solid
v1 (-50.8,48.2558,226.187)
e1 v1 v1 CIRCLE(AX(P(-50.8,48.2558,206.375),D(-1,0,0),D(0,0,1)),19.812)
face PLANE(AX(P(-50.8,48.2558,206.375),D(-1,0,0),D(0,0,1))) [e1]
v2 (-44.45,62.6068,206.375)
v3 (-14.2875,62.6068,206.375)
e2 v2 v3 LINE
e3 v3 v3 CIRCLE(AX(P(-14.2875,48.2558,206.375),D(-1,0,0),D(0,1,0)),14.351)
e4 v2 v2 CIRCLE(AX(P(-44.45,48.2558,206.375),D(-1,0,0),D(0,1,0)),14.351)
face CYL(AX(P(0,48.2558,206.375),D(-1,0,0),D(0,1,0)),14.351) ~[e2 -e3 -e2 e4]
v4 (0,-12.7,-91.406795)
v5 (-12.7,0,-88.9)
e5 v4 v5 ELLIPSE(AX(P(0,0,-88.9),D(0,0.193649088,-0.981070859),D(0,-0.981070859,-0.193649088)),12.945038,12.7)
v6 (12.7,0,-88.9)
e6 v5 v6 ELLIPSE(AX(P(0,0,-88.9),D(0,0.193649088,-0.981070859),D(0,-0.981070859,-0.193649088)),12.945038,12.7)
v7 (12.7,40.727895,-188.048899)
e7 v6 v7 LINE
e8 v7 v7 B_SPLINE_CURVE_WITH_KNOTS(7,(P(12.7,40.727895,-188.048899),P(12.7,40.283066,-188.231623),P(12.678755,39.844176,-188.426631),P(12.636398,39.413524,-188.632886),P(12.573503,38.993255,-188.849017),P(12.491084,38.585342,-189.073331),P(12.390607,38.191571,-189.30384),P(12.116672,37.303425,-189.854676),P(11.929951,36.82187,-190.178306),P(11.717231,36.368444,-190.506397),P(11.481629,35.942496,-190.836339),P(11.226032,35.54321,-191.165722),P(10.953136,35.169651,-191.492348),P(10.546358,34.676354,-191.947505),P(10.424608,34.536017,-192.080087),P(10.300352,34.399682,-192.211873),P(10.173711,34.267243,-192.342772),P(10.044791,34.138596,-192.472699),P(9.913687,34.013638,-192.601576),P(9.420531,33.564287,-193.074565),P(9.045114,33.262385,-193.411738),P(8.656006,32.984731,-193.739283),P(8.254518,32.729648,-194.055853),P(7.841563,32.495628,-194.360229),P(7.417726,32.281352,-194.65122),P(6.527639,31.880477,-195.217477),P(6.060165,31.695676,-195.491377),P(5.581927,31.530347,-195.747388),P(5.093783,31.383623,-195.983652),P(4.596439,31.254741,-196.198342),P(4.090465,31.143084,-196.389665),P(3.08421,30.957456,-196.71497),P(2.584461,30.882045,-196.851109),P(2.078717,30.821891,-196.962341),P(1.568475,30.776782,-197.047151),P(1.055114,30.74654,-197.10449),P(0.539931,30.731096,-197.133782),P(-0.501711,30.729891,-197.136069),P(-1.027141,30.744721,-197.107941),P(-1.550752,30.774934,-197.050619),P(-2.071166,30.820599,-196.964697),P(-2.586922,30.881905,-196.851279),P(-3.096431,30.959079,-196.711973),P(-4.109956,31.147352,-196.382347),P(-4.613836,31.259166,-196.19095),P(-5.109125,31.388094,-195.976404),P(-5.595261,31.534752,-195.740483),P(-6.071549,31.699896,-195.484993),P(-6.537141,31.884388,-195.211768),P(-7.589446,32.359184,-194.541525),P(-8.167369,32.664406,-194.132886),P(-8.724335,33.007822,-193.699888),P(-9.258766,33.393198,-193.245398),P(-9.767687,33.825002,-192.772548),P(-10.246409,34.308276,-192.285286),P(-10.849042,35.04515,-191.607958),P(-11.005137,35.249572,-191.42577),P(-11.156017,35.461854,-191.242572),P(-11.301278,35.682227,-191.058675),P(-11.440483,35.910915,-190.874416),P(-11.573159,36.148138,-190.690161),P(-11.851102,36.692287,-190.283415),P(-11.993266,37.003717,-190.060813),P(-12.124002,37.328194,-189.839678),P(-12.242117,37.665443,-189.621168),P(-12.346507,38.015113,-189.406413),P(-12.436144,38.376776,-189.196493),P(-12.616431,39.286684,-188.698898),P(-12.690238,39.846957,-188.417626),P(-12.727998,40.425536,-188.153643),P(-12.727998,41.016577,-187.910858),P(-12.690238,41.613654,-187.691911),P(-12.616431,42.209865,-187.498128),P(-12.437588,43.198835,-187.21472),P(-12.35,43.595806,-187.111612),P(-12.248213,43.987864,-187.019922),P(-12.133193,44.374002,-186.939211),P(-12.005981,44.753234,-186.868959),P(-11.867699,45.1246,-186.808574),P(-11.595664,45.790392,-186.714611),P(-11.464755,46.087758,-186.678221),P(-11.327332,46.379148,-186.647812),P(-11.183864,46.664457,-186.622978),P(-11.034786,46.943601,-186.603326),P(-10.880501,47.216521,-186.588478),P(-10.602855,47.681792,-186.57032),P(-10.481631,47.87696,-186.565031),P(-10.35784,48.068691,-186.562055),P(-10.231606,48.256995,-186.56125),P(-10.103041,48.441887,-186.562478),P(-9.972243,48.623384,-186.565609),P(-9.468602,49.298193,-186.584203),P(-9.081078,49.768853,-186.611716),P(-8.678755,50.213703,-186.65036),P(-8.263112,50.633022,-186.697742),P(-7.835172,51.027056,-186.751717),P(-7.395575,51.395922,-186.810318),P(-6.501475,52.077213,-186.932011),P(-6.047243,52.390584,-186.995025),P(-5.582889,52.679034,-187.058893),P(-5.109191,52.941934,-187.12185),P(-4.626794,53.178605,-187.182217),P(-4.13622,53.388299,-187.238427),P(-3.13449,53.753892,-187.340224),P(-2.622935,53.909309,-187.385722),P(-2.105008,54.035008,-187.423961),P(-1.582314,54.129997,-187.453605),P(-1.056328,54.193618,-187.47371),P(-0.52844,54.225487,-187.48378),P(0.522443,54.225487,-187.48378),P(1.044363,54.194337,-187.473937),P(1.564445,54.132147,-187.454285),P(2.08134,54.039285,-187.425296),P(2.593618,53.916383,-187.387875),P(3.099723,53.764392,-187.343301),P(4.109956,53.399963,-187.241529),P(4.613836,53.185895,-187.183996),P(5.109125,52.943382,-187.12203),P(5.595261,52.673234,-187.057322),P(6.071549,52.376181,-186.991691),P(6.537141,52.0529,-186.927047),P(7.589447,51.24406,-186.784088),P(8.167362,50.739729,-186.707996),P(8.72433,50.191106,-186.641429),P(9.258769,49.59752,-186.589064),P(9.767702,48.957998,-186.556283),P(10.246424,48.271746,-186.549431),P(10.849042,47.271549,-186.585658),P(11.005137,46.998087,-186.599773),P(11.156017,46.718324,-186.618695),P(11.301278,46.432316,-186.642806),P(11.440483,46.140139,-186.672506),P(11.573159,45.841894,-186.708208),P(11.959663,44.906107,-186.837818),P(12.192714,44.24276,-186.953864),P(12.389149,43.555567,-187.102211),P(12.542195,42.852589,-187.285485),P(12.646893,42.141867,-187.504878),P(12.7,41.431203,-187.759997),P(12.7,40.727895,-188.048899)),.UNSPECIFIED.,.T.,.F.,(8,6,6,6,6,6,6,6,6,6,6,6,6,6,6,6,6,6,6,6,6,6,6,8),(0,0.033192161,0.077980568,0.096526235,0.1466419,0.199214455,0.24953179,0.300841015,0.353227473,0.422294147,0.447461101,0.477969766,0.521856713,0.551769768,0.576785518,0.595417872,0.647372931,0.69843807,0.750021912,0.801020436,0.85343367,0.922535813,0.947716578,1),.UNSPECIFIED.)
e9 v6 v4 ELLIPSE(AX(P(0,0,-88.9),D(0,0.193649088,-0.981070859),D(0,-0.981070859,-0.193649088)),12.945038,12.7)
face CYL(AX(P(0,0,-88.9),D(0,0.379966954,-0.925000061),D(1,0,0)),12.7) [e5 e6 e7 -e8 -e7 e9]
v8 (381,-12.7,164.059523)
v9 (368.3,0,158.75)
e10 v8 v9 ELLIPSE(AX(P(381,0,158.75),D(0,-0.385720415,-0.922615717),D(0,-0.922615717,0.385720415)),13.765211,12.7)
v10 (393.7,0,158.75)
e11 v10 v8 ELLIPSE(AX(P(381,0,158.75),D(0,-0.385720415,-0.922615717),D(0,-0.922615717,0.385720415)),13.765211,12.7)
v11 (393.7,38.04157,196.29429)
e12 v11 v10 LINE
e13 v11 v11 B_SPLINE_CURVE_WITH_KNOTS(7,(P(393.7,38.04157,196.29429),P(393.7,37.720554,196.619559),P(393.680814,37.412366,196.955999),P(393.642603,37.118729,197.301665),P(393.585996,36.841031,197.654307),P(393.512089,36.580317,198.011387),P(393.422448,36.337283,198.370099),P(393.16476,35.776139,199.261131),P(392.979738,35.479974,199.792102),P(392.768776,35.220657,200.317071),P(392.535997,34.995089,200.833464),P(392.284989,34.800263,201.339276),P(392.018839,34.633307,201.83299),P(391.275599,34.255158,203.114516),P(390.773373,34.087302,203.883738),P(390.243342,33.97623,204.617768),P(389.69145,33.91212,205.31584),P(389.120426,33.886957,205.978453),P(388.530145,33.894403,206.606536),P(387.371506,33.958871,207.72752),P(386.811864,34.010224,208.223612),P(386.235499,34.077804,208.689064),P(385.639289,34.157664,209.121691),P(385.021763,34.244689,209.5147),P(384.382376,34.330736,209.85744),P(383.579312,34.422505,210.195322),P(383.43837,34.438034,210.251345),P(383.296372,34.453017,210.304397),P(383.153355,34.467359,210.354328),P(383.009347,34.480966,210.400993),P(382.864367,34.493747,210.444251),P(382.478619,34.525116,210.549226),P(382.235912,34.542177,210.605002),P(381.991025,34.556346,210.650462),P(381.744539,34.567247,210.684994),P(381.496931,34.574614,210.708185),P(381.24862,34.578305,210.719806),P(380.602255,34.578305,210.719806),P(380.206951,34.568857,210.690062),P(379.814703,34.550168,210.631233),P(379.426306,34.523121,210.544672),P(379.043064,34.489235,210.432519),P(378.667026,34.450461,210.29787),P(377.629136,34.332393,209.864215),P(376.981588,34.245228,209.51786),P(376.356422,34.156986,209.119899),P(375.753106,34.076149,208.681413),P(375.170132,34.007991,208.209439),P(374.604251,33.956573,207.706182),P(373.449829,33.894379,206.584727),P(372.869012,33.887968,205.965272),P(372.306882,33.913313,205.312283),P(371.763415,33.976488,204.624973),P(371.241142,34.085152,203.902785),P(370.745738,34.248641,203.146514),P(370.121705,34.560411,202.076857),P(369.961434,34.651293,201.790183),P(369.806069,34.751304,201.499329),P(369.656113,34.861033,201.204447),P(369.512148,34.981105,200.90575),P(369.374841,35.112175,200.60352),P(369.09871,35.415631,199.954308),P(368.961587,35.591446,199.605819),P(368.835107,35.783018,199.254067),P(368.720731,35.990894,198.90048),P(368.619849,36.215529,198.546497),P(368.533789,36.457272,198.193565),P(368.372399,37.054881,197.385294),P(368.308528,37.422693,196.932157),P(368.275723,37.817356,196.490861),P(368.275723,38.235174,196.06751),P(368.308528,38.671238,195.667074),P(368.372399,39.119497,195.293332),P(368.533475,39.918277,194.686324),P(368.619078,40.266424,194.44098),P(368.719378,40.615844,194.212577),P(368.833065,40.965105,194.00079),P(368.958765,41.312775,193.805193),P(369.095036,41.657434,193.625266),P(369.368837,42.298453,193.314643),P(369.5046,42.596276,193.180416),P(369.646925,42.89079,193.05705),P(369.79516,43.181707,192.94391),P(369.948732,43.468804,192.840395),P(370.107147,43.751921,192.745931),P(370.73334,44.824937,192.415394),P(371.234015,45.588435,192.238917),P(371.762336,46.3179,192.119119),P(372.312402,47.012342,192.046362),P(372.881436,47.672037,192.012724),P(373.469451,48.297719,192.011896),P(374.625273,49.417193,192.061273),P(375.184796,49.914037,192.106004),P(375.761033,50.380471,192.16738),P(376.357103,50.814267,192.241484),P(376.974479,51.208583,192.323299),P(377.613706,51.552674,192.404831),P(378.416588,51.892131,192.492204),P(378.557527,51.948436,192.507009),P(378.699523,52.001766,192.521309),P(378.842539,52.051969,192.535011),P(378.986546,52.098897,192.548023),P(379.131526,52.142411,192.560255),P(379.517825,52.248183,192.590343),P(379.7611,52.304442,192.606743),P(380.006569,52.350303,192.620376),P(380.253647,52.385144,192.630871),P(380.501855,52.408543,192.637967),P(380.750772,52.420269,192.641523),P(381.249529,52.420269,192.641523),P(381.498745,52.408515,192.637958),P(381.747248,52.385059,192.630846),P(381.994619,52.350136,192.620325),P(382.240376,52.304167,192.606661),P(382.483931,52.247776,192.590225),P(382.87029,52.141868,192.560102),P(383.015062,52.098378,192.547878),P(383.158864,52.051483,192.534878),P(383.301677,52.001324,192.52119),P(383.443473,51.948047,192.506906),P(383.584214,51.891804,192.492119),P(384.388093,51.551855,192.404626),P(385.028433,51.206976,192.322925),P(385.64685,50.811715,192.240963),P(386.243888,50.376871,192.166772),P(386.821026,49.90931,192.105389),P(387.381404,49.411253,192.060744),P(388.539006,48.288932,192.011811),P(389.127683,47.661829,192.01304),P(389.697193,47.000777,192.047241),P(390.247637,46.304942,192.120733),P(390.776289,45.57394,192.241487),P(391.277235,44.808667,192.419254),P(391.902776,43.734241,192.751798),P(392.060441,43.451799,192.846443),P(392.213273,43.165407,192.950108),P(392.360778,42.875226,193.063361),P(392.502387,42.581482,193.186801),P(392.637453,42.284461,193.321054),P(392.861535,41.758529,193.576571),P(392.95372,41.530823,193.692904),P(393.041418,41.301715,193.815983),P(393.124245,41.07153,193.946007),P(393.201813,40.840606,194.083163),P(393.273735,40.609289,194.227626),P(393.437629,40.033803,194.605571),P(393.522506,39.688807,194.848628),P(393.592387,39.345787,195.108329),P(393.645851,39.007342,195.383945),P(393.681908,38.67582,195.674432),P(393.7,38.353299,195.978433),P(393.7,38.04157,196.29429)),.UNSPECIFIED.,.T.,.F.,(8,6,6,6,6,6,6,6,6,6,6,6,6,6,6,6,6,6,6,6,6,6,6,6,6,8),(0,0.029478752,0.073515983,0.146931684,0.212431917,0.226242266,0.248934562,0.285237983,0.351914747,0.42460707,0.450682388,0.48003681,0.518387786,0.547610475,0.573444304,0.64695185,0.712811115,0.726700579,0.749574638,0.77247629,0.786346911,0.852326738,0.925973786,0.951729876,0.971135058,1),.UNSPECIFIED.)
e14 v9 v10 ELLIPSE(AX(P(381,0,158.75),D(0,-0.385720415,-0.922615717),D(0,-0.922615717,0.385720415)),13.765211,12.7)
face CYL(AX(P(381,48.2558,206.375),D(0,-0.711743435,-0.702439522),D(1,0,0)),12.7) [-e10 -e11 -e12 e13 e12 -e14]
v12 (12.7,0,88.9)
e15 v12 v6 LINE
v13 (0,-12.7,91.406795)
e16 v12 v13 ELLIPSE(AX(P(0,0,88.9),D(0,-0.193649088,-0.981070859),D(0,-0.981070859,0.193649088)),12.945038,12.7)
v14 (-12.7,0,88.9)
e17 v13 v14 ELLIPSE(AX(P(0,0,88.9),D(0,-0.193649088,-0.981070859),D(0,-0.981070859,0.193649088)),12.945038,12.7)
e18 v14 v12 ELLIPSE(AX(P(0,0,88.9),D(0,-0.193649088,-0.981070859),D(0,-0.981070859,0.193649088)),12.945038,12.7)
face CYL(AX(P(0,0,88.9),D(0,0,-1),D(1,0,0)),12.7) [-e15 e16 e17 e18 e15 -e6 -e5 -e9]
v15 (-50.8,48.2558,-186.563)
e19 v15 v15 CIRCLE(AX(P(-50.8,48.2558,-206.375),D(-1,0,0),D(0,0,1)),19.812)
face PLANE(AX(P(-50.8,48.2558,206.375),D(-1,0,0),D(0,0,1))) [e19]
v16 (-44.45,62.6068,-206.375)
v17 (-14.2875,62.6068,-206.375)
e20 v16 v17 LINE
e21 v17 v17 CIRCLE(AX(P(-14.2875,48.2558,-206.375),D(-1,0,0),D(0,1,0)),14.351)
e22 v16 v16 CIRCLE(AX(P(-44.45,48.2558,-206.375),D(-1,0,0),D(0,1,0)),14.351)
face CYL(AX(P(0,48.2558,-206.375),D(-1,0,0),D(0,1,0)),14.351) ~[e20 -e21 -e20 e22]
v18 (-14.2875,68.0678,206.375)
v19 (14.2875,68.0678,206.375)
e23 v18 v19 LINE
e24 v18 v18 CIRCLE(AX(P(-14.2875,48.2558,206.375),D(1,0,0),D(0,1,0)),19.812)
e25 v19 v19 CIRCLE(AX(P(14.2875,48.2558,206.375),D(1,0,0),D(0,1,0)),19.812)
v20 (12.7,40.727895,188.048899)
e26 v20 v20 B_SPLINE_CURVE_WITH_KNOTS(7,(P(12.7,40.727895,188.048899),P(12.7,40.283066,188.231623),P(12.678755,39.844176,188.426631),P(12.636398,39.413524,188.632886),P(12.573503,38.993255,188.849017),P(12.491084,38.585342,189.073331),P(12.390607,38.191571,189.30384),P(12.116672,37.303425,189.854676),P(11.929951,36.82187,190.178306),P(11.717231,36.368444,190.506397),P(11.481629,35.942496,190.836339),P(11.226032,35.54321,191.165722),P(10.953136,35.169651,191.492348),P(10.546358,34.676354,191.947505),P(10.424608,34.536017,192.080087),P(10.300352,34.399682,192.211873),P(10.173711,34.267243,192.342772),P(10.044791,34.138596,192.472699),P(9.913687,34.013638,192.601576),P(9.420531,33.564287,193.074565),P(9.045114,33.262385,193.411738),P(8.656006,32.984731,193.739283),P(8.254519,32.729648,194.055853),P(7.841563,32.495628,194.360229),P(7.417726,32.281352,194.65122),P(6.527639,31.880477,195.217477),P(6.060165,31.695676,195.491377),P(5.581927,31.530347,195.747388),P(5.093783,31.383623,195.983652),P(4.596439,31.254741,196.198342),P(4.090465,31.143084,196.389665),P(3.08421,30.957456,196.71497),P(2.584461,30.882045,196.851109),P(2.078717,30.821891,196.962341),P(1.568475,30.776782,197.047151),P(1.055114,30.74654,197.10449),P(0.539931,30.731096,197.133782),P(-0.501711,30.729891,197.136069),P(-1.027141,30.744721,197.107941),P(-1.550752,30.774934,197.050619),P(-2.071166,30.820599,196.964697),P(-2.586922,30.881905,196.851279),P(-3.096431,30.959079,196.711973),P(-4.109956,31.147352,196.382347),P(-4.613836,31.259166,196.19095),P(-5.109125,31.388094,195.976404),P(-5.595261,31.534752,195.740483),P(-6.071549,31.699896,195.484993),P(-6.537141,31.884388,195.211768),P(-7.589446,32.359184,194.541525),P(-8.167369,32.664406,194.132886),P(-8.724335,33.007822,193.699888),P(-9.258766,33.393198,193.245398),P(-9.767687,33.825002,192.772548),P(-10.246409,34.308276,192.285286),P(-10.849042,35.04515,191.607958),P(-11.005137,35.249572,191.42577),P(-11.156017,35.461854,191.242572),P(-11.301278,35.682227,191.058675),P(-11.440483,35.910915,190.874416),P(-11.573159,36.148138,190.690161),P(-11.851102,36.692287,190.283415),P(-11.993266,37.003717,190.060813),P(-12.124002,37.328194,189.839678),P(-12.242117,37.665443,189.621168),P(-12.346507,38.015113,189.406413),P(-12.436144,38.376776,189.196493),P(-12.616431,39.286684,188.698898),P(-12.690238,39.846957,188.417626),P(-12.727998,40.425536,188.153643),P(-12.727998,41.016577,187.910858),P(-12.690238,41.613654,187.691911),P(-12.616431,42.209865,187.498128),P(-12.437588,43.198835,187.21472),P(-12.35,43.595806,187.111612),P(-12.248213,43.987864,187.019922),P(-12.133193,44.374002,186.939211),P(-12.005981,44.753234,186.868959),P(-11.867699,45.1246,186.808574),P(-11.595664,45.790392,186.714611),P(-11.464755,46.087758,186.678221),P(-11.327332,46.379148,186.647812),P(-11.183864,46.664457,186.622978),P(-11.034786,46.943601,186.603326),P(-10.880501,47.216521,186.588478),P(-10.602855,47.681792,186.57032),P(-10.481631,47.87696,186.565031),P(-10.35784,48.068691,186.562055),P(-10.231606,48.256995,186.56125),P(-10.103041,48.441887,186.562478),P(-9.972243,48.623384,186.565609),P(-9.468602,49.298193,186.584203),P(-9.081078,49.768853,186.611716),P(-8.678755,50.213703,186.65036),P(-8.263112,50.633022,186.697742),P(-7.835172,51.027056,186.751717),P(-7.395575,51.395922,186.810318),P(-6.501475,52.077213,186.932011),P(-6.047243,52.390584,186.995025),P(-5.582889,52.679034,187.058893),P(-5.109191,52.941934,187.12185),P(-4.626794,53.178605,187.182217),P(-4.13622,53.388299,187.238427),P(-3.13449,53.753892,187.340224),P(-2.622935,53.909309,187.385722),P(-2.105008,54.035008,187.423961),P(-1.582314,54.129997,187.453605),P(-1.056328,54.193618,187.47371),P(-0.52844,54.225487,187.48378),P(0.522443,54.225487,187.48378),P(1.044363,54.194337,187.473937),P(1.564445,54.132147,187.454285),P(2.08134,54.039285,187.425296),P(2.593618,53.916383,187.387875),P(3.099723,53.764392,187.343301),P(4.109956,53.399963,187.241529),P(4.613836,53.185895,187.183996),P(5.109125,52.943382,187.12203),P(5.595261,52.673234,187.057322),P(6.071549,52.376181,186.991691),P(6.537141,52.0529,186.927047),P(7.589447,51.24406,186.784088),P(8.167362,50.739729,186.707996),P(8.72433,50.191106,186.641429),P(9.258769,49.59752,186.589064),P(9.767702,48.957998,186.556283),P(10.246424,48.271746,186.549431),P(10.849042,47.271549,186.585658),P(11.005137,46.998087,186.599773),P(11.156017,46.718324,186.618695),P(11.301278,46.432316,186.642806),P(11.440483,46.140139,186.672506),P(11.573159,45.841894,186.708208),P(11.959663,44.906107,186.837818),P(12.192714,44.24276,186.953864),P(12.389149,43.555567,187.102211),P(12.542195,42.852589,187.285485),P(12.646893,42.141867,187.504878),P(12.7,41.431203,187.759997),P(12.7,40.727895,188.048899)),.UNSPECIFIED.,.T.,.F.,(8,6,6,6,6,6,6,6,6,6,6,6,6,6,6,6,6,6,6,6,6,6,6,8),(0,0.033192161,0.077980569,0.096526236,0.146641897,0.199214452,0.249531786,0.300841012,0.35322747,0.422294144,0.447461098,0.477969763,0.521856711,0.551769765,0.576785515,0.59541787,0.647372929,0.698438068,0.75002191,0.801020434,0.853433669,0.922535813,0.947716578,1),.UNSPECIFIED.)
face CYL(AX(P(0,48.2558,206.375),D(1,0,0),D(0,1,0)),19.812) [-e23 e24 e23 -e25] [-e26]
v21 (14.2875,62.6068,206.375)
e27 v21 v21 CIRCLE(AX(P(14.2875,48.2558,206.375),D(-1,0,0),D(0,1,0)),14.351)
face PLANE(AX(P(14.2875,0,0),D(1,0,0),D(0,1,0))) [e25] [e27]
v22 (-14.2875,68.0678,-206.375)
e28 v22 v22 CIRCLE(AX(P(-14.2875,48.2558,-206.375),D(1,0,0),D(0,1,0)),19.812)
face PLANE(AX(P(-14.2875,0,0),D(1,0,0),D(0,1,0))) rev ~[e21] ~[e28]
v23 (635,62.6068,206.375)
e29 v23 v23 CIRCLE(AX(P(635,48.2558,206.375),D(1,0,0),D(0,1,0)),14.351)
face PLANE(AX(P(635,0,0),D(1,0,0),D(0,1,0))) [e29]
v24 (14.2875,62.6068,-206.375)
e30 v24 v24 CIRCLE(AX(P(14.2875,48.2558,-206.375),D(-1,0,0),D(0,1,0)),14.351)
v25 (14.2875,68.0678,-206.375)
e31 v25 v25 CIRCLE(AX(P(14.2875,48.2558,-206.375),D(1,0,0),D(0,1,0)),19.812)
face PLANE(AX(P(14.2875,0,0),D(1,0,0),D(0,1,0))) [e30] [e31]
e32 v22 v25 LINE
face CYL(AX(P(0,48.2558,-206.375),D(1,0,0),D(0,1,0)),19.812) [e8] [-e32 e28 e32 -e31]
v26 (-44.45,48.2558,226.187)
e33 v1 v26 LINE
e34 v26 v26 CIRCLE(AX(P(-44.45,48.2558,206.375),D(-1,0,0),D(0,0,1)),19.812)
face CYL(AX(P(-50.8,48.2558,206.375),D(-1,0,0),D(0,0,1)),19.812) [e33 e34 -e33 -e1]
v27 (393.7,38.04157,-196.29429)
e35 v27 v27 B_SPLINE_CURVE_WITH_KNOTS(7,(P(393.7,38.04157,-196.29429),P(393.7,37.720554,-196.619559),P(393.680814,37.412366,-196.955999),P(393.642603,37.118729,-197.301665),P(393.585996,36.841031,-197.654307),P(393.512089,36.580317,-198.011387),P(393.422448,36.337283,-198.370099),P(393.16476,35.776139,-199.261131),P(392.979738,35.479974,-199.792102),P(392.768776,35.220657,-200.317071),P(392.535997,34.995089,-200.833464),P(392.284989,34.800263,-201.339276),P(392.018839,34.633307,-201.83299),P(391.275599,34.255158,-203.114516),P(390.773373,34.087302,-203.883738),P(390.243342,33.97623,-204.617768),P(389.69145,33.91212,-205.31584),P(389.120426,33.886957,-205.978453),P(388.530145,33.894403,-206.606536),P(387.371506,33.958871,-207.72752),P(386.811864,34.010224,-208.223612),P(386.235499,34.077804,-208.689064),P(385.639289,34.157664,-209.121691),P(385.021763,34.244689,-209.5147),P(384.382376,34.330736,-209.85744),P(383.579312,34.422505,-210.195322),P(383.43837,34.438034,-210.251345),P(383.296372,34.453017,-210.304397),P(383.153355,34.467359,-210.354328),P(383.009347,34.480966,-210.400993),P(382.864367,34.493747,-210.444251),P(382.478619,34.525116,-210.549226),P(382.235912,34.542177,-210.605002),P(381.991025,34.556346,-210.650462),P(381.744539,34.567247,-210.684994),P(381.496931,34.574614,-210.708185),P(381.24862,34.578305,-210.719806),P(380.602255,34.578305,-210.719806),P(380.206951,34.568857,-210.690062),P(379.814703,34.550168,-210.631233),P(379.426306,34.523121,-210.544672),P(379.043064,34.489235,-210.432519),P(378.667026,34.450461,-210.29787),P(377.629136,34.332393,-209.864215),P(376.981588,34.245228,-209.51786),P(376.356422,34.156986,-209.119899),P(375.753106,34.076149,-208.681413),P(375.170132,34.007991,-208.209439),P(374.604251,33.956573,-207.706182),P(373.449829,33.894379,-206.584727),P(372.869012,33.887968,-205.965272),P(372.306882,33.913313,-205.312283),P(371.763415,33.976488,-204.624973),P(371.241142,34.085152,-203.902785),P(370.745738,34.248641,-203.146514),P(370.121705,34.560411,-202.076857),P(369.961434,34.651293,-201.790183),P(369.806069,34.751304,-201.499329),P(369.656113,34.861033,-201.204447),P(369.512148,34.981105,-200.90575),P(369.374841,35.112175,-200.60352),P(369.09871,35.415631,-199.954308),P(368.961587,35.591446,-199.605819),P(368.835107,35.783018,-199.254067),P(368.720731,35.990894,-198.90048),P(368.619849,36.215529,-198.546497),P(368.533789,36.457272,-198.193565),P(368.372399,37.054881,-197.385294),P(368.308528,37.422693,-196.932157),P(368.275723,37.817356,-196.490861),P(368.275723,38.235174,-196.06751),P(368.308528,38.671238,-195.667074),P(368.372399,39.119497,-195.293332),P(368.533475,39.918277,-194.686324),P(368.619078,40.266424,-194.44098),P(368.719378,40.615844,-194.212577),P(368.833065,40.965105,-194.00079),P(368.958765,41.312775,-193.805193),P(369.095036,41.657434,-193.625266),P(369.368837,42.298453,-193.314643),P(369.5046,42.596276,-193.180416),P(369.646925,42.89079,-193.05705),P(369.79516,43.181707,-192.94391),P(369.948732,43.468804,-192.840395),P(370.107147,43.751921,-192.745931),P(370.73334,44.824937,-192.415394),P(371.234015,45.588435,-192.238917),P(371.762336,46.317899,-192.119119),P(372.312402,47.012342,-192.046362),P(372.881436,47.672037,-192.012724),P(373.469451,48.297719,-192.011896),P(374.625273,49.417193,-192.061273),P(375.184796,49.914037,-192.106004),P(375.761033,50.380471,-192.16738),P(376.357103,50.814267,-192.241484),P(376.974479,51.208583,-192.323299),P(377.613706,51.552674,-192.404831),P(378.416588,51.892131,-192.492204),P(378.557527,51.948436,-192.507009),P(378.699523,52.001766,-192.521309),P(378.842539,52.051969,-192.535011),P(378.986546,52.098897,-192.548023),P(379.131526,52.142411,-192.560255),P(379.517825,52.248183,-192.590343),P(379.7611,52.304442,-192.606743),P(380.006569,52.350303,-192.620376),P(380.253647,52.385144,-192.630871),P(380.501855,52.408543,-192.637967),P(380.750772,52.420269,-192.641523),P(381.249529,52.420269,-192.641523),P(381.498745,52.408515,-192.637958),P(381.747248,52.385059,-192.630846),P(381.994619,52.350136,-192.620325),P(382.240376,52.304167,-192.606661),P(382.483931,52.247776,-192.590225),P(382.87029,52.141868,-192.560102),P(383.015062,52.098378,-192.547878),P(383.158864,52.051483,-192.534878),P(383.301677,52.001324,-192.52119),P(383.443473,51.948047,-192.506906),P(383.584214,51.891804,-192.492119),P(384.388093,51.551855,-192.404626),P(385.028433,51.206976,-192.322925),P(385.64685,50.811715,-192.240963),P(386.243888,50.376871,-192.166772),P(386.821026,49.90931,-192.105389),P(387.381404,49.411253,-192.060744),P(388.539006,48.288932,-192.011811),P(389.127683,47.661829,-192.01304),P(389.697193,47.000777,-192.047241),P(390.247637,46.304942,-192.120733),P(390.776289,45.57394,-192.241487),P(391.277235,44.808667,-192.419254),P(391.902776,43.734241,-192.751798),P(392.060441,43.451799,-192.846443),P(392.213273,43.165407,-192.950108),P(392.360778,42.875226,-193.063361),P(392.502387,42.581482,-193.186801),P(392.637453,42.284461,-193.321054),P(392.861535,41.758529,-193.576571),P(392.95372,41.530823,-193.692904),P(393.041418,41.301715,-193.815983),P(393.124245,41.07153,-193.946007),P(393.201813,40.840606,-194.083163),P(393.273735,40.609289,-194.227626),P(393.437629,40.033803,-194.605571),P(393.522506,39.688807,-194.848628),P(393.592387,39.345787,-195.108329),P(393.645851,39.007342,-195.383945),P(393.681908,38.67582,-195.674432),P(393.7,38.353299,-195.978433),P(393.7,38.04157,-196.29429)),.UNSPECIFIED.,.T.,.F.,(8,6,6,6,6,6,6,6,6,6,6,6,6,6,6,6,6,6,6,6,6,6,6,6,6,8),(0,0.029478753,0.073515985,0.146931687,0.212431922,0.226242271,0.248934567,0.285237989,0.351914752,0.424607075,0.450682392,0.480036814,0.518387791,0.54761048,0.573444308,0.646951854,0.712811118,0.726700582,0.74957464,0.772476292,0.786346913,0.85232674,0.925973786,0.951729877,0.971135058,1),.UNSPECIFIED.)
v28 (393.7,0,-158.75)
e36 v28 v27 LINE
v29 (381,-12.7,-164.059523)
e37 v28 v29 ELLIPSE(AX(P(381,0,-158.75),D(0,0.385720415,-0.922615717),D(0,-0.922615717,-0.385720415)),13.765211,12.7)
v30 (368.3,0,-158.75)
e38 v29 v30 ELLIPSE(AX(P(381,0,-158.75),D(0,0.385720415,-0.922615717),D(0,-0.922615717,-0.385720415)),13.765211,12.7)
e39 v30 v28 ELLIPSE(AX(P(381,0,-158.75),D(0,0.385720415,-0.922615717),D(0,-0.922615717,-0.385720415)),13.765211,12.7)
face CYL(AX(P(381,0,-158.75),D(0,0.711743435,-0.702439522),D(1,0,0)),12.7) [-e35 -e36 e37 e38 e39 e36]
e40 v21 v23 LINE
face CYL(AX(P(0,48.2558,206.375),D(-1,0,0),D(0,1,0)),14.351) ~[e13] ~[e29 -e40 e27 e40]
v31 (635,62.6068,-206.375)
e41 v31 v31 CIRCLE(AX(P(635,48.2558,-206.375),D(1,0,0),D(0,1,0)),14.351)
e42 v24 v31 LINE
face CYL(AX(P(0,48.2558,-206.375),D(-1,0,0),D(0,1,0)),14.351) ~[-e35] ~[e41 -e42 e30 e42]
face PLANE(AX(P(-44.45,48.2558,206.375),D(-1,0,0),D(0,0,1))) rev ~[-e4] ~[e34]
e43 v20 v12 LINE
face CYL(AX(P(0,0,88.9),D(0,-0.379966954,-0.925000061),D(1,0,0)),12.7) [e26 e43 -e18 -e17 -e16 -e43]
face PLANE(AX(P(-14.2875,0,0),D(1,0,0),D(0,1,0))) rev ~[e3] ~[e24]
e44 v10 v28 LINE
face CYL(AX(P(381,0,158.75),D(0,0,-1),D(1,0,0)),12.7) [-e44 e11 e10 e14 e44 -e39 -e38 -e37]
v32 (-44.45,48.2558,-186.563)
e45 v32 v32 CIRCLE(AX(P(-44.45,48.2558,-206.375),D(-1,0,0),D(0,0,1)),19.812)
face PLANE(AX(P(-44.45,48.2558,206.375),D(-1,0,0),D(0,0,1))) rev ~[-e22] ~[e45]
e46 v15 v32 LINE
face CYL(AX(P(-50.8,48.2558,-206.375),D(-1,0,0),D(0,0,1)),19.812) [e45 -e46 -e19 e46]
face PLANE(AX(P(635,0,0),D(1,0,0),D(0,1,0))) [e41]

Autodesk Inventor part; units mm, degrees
ref_plane "XZ Plane" through (0, 0, 0) normal (0, 1, 0) x (-1, 0, 0)
ref_plane "XY Plane" through (0, 0, 0) normal (0, 0, 1) x (1, 0, 0)
sketch "Sketch1" plane through (0, 0, 0) normal (0, 0, 1) x (1, 0, 0)
  circle A0 centre (0, 0) radius 12.7
  dimension "d0" = 25.4
sketch "Sketch2" plane through (0, 0, 0) normal (1, 0, 0) x (0, 1, 0)
  line L0 (0, 88.9) -> (0, -88.9)
  line L1 (0, -88.9) -> (48.2558, -206.375)
  line L2 (0, 88.9) -> (48.2558, 206.375)
  line L3 (48.2558, -206.375) -> (232.1871, -206.375) construction
  point P0 (0, 0)
  dimension "d1" = 88.9
  dimension "d2" = 177.8
  dimension "d3" = 412.75
  dimension "d5" = 127
  dimension "d26" = 112.332
sweep "Sweep1" add profiles "Sketch1" path "Sketch2"
ref_plane "Work Plane1" through (381, 0, 0) normal (1, 0, 0) x (0, 1, 0)
sketch "Sketch3" plane through (0, 0, 0) normal (0, 0, 1) x (1, 0, 0)
  circle A0 centre (381, 0) radius 12.7
  point P0 (0, 0)
  dimension "d9" = 381
  dimension "d10" = 25.4
sketch "Sketch4" plane through (381, 0, 0) normal (1, 0, 0) x (0, 1, 0)
  line L0 (60.0033, 201.5494) -> (36.5083, 211.2006) projected
  line L1 (48.2558, 206.375) -> (0, 158.75)
  line L2 (0, 158.75) -> (0, -158.75)
  line L3 (0, -158.75) -> (48.2558, -206.375)
  line L4 (36.5083, -211.2006) -> (60.0033, -201.5494) projected
  point P0 (0, 0)
  point P1 (0, 0)
  dimension "d11" = 317.5
  dimension "d13" = 0
sweep "Sweep2" add profiles "Sketch3" path "Sketch4" path curves L3 L2 L1
sketch "Sketch5" plane through (0, 0, 0) normal (1, 0, 0) x (0, 1, 0)
  line L0 (39.3348, -215.4141) -> (57.1768, -197.3359) projected
  line L1 (36.5083, -211.2006) -> (60.0033, -201.5494) projected
  line L2 (57.1768, 197.3359) -> (39.3348, 215.4141) projected
  line L3 (60.0033, 201.5494) -> (36.5083, 211.2006) projected
  circle A0 centre (48.2558, 206.375) radius 14.351
  circle A1 centre (48.2558, -206.375) radius 14.351
  point P0 (0, 0)
  dimension "d16" = 28.702
extrude "Extrusion1" add sketch "Sketch5" along normal blind 635 and the other way blind 50.8
sketch "Sketch6" plane through (0, 0, 0) normal (1, 0, 0) x (0, 1, 0)
  circle A0 centre (48.2558, 206.375) radius 14.351 projected
  circle A1 centre (48.2558, -206.375) radius 14.351 projected
  circle A2 centre (48.2558, -206.375) radius 19.812
  circle A3 centre (48.2558, 206.375) radius 19.812
  point P0 (0, 0)
  dimension "d21" = 39.624
extrude "Extrusion2" add sketch "Sketch6" along normal mid plane 28.575 contours A0 | A1 | A2 | A3
sketch "Sketch7" plane through (-50.8, 48.2558, 206.375) normal (-1, 0, 0) x (0, 0, 1)
  circle A0 centre (-412.75, 0) radius 14.351 projected
  circle A1 centre (0, 0) radius 14.351 projected
  circle A2 centre (-412.75, 0) radius 19.812 projected
  circle A3 centre (0, 0) radius 19.812 projected
  point P0 (-206.375, -48.2558)
extrude "Extrusion3" add sketch "Sketch7" against normal blind 6.35 contours A0 | A1 | A2 | A3
equation "\"d1\" = 0.5 * d2"
properties part number "front bar" material "Aluminum 6061"
